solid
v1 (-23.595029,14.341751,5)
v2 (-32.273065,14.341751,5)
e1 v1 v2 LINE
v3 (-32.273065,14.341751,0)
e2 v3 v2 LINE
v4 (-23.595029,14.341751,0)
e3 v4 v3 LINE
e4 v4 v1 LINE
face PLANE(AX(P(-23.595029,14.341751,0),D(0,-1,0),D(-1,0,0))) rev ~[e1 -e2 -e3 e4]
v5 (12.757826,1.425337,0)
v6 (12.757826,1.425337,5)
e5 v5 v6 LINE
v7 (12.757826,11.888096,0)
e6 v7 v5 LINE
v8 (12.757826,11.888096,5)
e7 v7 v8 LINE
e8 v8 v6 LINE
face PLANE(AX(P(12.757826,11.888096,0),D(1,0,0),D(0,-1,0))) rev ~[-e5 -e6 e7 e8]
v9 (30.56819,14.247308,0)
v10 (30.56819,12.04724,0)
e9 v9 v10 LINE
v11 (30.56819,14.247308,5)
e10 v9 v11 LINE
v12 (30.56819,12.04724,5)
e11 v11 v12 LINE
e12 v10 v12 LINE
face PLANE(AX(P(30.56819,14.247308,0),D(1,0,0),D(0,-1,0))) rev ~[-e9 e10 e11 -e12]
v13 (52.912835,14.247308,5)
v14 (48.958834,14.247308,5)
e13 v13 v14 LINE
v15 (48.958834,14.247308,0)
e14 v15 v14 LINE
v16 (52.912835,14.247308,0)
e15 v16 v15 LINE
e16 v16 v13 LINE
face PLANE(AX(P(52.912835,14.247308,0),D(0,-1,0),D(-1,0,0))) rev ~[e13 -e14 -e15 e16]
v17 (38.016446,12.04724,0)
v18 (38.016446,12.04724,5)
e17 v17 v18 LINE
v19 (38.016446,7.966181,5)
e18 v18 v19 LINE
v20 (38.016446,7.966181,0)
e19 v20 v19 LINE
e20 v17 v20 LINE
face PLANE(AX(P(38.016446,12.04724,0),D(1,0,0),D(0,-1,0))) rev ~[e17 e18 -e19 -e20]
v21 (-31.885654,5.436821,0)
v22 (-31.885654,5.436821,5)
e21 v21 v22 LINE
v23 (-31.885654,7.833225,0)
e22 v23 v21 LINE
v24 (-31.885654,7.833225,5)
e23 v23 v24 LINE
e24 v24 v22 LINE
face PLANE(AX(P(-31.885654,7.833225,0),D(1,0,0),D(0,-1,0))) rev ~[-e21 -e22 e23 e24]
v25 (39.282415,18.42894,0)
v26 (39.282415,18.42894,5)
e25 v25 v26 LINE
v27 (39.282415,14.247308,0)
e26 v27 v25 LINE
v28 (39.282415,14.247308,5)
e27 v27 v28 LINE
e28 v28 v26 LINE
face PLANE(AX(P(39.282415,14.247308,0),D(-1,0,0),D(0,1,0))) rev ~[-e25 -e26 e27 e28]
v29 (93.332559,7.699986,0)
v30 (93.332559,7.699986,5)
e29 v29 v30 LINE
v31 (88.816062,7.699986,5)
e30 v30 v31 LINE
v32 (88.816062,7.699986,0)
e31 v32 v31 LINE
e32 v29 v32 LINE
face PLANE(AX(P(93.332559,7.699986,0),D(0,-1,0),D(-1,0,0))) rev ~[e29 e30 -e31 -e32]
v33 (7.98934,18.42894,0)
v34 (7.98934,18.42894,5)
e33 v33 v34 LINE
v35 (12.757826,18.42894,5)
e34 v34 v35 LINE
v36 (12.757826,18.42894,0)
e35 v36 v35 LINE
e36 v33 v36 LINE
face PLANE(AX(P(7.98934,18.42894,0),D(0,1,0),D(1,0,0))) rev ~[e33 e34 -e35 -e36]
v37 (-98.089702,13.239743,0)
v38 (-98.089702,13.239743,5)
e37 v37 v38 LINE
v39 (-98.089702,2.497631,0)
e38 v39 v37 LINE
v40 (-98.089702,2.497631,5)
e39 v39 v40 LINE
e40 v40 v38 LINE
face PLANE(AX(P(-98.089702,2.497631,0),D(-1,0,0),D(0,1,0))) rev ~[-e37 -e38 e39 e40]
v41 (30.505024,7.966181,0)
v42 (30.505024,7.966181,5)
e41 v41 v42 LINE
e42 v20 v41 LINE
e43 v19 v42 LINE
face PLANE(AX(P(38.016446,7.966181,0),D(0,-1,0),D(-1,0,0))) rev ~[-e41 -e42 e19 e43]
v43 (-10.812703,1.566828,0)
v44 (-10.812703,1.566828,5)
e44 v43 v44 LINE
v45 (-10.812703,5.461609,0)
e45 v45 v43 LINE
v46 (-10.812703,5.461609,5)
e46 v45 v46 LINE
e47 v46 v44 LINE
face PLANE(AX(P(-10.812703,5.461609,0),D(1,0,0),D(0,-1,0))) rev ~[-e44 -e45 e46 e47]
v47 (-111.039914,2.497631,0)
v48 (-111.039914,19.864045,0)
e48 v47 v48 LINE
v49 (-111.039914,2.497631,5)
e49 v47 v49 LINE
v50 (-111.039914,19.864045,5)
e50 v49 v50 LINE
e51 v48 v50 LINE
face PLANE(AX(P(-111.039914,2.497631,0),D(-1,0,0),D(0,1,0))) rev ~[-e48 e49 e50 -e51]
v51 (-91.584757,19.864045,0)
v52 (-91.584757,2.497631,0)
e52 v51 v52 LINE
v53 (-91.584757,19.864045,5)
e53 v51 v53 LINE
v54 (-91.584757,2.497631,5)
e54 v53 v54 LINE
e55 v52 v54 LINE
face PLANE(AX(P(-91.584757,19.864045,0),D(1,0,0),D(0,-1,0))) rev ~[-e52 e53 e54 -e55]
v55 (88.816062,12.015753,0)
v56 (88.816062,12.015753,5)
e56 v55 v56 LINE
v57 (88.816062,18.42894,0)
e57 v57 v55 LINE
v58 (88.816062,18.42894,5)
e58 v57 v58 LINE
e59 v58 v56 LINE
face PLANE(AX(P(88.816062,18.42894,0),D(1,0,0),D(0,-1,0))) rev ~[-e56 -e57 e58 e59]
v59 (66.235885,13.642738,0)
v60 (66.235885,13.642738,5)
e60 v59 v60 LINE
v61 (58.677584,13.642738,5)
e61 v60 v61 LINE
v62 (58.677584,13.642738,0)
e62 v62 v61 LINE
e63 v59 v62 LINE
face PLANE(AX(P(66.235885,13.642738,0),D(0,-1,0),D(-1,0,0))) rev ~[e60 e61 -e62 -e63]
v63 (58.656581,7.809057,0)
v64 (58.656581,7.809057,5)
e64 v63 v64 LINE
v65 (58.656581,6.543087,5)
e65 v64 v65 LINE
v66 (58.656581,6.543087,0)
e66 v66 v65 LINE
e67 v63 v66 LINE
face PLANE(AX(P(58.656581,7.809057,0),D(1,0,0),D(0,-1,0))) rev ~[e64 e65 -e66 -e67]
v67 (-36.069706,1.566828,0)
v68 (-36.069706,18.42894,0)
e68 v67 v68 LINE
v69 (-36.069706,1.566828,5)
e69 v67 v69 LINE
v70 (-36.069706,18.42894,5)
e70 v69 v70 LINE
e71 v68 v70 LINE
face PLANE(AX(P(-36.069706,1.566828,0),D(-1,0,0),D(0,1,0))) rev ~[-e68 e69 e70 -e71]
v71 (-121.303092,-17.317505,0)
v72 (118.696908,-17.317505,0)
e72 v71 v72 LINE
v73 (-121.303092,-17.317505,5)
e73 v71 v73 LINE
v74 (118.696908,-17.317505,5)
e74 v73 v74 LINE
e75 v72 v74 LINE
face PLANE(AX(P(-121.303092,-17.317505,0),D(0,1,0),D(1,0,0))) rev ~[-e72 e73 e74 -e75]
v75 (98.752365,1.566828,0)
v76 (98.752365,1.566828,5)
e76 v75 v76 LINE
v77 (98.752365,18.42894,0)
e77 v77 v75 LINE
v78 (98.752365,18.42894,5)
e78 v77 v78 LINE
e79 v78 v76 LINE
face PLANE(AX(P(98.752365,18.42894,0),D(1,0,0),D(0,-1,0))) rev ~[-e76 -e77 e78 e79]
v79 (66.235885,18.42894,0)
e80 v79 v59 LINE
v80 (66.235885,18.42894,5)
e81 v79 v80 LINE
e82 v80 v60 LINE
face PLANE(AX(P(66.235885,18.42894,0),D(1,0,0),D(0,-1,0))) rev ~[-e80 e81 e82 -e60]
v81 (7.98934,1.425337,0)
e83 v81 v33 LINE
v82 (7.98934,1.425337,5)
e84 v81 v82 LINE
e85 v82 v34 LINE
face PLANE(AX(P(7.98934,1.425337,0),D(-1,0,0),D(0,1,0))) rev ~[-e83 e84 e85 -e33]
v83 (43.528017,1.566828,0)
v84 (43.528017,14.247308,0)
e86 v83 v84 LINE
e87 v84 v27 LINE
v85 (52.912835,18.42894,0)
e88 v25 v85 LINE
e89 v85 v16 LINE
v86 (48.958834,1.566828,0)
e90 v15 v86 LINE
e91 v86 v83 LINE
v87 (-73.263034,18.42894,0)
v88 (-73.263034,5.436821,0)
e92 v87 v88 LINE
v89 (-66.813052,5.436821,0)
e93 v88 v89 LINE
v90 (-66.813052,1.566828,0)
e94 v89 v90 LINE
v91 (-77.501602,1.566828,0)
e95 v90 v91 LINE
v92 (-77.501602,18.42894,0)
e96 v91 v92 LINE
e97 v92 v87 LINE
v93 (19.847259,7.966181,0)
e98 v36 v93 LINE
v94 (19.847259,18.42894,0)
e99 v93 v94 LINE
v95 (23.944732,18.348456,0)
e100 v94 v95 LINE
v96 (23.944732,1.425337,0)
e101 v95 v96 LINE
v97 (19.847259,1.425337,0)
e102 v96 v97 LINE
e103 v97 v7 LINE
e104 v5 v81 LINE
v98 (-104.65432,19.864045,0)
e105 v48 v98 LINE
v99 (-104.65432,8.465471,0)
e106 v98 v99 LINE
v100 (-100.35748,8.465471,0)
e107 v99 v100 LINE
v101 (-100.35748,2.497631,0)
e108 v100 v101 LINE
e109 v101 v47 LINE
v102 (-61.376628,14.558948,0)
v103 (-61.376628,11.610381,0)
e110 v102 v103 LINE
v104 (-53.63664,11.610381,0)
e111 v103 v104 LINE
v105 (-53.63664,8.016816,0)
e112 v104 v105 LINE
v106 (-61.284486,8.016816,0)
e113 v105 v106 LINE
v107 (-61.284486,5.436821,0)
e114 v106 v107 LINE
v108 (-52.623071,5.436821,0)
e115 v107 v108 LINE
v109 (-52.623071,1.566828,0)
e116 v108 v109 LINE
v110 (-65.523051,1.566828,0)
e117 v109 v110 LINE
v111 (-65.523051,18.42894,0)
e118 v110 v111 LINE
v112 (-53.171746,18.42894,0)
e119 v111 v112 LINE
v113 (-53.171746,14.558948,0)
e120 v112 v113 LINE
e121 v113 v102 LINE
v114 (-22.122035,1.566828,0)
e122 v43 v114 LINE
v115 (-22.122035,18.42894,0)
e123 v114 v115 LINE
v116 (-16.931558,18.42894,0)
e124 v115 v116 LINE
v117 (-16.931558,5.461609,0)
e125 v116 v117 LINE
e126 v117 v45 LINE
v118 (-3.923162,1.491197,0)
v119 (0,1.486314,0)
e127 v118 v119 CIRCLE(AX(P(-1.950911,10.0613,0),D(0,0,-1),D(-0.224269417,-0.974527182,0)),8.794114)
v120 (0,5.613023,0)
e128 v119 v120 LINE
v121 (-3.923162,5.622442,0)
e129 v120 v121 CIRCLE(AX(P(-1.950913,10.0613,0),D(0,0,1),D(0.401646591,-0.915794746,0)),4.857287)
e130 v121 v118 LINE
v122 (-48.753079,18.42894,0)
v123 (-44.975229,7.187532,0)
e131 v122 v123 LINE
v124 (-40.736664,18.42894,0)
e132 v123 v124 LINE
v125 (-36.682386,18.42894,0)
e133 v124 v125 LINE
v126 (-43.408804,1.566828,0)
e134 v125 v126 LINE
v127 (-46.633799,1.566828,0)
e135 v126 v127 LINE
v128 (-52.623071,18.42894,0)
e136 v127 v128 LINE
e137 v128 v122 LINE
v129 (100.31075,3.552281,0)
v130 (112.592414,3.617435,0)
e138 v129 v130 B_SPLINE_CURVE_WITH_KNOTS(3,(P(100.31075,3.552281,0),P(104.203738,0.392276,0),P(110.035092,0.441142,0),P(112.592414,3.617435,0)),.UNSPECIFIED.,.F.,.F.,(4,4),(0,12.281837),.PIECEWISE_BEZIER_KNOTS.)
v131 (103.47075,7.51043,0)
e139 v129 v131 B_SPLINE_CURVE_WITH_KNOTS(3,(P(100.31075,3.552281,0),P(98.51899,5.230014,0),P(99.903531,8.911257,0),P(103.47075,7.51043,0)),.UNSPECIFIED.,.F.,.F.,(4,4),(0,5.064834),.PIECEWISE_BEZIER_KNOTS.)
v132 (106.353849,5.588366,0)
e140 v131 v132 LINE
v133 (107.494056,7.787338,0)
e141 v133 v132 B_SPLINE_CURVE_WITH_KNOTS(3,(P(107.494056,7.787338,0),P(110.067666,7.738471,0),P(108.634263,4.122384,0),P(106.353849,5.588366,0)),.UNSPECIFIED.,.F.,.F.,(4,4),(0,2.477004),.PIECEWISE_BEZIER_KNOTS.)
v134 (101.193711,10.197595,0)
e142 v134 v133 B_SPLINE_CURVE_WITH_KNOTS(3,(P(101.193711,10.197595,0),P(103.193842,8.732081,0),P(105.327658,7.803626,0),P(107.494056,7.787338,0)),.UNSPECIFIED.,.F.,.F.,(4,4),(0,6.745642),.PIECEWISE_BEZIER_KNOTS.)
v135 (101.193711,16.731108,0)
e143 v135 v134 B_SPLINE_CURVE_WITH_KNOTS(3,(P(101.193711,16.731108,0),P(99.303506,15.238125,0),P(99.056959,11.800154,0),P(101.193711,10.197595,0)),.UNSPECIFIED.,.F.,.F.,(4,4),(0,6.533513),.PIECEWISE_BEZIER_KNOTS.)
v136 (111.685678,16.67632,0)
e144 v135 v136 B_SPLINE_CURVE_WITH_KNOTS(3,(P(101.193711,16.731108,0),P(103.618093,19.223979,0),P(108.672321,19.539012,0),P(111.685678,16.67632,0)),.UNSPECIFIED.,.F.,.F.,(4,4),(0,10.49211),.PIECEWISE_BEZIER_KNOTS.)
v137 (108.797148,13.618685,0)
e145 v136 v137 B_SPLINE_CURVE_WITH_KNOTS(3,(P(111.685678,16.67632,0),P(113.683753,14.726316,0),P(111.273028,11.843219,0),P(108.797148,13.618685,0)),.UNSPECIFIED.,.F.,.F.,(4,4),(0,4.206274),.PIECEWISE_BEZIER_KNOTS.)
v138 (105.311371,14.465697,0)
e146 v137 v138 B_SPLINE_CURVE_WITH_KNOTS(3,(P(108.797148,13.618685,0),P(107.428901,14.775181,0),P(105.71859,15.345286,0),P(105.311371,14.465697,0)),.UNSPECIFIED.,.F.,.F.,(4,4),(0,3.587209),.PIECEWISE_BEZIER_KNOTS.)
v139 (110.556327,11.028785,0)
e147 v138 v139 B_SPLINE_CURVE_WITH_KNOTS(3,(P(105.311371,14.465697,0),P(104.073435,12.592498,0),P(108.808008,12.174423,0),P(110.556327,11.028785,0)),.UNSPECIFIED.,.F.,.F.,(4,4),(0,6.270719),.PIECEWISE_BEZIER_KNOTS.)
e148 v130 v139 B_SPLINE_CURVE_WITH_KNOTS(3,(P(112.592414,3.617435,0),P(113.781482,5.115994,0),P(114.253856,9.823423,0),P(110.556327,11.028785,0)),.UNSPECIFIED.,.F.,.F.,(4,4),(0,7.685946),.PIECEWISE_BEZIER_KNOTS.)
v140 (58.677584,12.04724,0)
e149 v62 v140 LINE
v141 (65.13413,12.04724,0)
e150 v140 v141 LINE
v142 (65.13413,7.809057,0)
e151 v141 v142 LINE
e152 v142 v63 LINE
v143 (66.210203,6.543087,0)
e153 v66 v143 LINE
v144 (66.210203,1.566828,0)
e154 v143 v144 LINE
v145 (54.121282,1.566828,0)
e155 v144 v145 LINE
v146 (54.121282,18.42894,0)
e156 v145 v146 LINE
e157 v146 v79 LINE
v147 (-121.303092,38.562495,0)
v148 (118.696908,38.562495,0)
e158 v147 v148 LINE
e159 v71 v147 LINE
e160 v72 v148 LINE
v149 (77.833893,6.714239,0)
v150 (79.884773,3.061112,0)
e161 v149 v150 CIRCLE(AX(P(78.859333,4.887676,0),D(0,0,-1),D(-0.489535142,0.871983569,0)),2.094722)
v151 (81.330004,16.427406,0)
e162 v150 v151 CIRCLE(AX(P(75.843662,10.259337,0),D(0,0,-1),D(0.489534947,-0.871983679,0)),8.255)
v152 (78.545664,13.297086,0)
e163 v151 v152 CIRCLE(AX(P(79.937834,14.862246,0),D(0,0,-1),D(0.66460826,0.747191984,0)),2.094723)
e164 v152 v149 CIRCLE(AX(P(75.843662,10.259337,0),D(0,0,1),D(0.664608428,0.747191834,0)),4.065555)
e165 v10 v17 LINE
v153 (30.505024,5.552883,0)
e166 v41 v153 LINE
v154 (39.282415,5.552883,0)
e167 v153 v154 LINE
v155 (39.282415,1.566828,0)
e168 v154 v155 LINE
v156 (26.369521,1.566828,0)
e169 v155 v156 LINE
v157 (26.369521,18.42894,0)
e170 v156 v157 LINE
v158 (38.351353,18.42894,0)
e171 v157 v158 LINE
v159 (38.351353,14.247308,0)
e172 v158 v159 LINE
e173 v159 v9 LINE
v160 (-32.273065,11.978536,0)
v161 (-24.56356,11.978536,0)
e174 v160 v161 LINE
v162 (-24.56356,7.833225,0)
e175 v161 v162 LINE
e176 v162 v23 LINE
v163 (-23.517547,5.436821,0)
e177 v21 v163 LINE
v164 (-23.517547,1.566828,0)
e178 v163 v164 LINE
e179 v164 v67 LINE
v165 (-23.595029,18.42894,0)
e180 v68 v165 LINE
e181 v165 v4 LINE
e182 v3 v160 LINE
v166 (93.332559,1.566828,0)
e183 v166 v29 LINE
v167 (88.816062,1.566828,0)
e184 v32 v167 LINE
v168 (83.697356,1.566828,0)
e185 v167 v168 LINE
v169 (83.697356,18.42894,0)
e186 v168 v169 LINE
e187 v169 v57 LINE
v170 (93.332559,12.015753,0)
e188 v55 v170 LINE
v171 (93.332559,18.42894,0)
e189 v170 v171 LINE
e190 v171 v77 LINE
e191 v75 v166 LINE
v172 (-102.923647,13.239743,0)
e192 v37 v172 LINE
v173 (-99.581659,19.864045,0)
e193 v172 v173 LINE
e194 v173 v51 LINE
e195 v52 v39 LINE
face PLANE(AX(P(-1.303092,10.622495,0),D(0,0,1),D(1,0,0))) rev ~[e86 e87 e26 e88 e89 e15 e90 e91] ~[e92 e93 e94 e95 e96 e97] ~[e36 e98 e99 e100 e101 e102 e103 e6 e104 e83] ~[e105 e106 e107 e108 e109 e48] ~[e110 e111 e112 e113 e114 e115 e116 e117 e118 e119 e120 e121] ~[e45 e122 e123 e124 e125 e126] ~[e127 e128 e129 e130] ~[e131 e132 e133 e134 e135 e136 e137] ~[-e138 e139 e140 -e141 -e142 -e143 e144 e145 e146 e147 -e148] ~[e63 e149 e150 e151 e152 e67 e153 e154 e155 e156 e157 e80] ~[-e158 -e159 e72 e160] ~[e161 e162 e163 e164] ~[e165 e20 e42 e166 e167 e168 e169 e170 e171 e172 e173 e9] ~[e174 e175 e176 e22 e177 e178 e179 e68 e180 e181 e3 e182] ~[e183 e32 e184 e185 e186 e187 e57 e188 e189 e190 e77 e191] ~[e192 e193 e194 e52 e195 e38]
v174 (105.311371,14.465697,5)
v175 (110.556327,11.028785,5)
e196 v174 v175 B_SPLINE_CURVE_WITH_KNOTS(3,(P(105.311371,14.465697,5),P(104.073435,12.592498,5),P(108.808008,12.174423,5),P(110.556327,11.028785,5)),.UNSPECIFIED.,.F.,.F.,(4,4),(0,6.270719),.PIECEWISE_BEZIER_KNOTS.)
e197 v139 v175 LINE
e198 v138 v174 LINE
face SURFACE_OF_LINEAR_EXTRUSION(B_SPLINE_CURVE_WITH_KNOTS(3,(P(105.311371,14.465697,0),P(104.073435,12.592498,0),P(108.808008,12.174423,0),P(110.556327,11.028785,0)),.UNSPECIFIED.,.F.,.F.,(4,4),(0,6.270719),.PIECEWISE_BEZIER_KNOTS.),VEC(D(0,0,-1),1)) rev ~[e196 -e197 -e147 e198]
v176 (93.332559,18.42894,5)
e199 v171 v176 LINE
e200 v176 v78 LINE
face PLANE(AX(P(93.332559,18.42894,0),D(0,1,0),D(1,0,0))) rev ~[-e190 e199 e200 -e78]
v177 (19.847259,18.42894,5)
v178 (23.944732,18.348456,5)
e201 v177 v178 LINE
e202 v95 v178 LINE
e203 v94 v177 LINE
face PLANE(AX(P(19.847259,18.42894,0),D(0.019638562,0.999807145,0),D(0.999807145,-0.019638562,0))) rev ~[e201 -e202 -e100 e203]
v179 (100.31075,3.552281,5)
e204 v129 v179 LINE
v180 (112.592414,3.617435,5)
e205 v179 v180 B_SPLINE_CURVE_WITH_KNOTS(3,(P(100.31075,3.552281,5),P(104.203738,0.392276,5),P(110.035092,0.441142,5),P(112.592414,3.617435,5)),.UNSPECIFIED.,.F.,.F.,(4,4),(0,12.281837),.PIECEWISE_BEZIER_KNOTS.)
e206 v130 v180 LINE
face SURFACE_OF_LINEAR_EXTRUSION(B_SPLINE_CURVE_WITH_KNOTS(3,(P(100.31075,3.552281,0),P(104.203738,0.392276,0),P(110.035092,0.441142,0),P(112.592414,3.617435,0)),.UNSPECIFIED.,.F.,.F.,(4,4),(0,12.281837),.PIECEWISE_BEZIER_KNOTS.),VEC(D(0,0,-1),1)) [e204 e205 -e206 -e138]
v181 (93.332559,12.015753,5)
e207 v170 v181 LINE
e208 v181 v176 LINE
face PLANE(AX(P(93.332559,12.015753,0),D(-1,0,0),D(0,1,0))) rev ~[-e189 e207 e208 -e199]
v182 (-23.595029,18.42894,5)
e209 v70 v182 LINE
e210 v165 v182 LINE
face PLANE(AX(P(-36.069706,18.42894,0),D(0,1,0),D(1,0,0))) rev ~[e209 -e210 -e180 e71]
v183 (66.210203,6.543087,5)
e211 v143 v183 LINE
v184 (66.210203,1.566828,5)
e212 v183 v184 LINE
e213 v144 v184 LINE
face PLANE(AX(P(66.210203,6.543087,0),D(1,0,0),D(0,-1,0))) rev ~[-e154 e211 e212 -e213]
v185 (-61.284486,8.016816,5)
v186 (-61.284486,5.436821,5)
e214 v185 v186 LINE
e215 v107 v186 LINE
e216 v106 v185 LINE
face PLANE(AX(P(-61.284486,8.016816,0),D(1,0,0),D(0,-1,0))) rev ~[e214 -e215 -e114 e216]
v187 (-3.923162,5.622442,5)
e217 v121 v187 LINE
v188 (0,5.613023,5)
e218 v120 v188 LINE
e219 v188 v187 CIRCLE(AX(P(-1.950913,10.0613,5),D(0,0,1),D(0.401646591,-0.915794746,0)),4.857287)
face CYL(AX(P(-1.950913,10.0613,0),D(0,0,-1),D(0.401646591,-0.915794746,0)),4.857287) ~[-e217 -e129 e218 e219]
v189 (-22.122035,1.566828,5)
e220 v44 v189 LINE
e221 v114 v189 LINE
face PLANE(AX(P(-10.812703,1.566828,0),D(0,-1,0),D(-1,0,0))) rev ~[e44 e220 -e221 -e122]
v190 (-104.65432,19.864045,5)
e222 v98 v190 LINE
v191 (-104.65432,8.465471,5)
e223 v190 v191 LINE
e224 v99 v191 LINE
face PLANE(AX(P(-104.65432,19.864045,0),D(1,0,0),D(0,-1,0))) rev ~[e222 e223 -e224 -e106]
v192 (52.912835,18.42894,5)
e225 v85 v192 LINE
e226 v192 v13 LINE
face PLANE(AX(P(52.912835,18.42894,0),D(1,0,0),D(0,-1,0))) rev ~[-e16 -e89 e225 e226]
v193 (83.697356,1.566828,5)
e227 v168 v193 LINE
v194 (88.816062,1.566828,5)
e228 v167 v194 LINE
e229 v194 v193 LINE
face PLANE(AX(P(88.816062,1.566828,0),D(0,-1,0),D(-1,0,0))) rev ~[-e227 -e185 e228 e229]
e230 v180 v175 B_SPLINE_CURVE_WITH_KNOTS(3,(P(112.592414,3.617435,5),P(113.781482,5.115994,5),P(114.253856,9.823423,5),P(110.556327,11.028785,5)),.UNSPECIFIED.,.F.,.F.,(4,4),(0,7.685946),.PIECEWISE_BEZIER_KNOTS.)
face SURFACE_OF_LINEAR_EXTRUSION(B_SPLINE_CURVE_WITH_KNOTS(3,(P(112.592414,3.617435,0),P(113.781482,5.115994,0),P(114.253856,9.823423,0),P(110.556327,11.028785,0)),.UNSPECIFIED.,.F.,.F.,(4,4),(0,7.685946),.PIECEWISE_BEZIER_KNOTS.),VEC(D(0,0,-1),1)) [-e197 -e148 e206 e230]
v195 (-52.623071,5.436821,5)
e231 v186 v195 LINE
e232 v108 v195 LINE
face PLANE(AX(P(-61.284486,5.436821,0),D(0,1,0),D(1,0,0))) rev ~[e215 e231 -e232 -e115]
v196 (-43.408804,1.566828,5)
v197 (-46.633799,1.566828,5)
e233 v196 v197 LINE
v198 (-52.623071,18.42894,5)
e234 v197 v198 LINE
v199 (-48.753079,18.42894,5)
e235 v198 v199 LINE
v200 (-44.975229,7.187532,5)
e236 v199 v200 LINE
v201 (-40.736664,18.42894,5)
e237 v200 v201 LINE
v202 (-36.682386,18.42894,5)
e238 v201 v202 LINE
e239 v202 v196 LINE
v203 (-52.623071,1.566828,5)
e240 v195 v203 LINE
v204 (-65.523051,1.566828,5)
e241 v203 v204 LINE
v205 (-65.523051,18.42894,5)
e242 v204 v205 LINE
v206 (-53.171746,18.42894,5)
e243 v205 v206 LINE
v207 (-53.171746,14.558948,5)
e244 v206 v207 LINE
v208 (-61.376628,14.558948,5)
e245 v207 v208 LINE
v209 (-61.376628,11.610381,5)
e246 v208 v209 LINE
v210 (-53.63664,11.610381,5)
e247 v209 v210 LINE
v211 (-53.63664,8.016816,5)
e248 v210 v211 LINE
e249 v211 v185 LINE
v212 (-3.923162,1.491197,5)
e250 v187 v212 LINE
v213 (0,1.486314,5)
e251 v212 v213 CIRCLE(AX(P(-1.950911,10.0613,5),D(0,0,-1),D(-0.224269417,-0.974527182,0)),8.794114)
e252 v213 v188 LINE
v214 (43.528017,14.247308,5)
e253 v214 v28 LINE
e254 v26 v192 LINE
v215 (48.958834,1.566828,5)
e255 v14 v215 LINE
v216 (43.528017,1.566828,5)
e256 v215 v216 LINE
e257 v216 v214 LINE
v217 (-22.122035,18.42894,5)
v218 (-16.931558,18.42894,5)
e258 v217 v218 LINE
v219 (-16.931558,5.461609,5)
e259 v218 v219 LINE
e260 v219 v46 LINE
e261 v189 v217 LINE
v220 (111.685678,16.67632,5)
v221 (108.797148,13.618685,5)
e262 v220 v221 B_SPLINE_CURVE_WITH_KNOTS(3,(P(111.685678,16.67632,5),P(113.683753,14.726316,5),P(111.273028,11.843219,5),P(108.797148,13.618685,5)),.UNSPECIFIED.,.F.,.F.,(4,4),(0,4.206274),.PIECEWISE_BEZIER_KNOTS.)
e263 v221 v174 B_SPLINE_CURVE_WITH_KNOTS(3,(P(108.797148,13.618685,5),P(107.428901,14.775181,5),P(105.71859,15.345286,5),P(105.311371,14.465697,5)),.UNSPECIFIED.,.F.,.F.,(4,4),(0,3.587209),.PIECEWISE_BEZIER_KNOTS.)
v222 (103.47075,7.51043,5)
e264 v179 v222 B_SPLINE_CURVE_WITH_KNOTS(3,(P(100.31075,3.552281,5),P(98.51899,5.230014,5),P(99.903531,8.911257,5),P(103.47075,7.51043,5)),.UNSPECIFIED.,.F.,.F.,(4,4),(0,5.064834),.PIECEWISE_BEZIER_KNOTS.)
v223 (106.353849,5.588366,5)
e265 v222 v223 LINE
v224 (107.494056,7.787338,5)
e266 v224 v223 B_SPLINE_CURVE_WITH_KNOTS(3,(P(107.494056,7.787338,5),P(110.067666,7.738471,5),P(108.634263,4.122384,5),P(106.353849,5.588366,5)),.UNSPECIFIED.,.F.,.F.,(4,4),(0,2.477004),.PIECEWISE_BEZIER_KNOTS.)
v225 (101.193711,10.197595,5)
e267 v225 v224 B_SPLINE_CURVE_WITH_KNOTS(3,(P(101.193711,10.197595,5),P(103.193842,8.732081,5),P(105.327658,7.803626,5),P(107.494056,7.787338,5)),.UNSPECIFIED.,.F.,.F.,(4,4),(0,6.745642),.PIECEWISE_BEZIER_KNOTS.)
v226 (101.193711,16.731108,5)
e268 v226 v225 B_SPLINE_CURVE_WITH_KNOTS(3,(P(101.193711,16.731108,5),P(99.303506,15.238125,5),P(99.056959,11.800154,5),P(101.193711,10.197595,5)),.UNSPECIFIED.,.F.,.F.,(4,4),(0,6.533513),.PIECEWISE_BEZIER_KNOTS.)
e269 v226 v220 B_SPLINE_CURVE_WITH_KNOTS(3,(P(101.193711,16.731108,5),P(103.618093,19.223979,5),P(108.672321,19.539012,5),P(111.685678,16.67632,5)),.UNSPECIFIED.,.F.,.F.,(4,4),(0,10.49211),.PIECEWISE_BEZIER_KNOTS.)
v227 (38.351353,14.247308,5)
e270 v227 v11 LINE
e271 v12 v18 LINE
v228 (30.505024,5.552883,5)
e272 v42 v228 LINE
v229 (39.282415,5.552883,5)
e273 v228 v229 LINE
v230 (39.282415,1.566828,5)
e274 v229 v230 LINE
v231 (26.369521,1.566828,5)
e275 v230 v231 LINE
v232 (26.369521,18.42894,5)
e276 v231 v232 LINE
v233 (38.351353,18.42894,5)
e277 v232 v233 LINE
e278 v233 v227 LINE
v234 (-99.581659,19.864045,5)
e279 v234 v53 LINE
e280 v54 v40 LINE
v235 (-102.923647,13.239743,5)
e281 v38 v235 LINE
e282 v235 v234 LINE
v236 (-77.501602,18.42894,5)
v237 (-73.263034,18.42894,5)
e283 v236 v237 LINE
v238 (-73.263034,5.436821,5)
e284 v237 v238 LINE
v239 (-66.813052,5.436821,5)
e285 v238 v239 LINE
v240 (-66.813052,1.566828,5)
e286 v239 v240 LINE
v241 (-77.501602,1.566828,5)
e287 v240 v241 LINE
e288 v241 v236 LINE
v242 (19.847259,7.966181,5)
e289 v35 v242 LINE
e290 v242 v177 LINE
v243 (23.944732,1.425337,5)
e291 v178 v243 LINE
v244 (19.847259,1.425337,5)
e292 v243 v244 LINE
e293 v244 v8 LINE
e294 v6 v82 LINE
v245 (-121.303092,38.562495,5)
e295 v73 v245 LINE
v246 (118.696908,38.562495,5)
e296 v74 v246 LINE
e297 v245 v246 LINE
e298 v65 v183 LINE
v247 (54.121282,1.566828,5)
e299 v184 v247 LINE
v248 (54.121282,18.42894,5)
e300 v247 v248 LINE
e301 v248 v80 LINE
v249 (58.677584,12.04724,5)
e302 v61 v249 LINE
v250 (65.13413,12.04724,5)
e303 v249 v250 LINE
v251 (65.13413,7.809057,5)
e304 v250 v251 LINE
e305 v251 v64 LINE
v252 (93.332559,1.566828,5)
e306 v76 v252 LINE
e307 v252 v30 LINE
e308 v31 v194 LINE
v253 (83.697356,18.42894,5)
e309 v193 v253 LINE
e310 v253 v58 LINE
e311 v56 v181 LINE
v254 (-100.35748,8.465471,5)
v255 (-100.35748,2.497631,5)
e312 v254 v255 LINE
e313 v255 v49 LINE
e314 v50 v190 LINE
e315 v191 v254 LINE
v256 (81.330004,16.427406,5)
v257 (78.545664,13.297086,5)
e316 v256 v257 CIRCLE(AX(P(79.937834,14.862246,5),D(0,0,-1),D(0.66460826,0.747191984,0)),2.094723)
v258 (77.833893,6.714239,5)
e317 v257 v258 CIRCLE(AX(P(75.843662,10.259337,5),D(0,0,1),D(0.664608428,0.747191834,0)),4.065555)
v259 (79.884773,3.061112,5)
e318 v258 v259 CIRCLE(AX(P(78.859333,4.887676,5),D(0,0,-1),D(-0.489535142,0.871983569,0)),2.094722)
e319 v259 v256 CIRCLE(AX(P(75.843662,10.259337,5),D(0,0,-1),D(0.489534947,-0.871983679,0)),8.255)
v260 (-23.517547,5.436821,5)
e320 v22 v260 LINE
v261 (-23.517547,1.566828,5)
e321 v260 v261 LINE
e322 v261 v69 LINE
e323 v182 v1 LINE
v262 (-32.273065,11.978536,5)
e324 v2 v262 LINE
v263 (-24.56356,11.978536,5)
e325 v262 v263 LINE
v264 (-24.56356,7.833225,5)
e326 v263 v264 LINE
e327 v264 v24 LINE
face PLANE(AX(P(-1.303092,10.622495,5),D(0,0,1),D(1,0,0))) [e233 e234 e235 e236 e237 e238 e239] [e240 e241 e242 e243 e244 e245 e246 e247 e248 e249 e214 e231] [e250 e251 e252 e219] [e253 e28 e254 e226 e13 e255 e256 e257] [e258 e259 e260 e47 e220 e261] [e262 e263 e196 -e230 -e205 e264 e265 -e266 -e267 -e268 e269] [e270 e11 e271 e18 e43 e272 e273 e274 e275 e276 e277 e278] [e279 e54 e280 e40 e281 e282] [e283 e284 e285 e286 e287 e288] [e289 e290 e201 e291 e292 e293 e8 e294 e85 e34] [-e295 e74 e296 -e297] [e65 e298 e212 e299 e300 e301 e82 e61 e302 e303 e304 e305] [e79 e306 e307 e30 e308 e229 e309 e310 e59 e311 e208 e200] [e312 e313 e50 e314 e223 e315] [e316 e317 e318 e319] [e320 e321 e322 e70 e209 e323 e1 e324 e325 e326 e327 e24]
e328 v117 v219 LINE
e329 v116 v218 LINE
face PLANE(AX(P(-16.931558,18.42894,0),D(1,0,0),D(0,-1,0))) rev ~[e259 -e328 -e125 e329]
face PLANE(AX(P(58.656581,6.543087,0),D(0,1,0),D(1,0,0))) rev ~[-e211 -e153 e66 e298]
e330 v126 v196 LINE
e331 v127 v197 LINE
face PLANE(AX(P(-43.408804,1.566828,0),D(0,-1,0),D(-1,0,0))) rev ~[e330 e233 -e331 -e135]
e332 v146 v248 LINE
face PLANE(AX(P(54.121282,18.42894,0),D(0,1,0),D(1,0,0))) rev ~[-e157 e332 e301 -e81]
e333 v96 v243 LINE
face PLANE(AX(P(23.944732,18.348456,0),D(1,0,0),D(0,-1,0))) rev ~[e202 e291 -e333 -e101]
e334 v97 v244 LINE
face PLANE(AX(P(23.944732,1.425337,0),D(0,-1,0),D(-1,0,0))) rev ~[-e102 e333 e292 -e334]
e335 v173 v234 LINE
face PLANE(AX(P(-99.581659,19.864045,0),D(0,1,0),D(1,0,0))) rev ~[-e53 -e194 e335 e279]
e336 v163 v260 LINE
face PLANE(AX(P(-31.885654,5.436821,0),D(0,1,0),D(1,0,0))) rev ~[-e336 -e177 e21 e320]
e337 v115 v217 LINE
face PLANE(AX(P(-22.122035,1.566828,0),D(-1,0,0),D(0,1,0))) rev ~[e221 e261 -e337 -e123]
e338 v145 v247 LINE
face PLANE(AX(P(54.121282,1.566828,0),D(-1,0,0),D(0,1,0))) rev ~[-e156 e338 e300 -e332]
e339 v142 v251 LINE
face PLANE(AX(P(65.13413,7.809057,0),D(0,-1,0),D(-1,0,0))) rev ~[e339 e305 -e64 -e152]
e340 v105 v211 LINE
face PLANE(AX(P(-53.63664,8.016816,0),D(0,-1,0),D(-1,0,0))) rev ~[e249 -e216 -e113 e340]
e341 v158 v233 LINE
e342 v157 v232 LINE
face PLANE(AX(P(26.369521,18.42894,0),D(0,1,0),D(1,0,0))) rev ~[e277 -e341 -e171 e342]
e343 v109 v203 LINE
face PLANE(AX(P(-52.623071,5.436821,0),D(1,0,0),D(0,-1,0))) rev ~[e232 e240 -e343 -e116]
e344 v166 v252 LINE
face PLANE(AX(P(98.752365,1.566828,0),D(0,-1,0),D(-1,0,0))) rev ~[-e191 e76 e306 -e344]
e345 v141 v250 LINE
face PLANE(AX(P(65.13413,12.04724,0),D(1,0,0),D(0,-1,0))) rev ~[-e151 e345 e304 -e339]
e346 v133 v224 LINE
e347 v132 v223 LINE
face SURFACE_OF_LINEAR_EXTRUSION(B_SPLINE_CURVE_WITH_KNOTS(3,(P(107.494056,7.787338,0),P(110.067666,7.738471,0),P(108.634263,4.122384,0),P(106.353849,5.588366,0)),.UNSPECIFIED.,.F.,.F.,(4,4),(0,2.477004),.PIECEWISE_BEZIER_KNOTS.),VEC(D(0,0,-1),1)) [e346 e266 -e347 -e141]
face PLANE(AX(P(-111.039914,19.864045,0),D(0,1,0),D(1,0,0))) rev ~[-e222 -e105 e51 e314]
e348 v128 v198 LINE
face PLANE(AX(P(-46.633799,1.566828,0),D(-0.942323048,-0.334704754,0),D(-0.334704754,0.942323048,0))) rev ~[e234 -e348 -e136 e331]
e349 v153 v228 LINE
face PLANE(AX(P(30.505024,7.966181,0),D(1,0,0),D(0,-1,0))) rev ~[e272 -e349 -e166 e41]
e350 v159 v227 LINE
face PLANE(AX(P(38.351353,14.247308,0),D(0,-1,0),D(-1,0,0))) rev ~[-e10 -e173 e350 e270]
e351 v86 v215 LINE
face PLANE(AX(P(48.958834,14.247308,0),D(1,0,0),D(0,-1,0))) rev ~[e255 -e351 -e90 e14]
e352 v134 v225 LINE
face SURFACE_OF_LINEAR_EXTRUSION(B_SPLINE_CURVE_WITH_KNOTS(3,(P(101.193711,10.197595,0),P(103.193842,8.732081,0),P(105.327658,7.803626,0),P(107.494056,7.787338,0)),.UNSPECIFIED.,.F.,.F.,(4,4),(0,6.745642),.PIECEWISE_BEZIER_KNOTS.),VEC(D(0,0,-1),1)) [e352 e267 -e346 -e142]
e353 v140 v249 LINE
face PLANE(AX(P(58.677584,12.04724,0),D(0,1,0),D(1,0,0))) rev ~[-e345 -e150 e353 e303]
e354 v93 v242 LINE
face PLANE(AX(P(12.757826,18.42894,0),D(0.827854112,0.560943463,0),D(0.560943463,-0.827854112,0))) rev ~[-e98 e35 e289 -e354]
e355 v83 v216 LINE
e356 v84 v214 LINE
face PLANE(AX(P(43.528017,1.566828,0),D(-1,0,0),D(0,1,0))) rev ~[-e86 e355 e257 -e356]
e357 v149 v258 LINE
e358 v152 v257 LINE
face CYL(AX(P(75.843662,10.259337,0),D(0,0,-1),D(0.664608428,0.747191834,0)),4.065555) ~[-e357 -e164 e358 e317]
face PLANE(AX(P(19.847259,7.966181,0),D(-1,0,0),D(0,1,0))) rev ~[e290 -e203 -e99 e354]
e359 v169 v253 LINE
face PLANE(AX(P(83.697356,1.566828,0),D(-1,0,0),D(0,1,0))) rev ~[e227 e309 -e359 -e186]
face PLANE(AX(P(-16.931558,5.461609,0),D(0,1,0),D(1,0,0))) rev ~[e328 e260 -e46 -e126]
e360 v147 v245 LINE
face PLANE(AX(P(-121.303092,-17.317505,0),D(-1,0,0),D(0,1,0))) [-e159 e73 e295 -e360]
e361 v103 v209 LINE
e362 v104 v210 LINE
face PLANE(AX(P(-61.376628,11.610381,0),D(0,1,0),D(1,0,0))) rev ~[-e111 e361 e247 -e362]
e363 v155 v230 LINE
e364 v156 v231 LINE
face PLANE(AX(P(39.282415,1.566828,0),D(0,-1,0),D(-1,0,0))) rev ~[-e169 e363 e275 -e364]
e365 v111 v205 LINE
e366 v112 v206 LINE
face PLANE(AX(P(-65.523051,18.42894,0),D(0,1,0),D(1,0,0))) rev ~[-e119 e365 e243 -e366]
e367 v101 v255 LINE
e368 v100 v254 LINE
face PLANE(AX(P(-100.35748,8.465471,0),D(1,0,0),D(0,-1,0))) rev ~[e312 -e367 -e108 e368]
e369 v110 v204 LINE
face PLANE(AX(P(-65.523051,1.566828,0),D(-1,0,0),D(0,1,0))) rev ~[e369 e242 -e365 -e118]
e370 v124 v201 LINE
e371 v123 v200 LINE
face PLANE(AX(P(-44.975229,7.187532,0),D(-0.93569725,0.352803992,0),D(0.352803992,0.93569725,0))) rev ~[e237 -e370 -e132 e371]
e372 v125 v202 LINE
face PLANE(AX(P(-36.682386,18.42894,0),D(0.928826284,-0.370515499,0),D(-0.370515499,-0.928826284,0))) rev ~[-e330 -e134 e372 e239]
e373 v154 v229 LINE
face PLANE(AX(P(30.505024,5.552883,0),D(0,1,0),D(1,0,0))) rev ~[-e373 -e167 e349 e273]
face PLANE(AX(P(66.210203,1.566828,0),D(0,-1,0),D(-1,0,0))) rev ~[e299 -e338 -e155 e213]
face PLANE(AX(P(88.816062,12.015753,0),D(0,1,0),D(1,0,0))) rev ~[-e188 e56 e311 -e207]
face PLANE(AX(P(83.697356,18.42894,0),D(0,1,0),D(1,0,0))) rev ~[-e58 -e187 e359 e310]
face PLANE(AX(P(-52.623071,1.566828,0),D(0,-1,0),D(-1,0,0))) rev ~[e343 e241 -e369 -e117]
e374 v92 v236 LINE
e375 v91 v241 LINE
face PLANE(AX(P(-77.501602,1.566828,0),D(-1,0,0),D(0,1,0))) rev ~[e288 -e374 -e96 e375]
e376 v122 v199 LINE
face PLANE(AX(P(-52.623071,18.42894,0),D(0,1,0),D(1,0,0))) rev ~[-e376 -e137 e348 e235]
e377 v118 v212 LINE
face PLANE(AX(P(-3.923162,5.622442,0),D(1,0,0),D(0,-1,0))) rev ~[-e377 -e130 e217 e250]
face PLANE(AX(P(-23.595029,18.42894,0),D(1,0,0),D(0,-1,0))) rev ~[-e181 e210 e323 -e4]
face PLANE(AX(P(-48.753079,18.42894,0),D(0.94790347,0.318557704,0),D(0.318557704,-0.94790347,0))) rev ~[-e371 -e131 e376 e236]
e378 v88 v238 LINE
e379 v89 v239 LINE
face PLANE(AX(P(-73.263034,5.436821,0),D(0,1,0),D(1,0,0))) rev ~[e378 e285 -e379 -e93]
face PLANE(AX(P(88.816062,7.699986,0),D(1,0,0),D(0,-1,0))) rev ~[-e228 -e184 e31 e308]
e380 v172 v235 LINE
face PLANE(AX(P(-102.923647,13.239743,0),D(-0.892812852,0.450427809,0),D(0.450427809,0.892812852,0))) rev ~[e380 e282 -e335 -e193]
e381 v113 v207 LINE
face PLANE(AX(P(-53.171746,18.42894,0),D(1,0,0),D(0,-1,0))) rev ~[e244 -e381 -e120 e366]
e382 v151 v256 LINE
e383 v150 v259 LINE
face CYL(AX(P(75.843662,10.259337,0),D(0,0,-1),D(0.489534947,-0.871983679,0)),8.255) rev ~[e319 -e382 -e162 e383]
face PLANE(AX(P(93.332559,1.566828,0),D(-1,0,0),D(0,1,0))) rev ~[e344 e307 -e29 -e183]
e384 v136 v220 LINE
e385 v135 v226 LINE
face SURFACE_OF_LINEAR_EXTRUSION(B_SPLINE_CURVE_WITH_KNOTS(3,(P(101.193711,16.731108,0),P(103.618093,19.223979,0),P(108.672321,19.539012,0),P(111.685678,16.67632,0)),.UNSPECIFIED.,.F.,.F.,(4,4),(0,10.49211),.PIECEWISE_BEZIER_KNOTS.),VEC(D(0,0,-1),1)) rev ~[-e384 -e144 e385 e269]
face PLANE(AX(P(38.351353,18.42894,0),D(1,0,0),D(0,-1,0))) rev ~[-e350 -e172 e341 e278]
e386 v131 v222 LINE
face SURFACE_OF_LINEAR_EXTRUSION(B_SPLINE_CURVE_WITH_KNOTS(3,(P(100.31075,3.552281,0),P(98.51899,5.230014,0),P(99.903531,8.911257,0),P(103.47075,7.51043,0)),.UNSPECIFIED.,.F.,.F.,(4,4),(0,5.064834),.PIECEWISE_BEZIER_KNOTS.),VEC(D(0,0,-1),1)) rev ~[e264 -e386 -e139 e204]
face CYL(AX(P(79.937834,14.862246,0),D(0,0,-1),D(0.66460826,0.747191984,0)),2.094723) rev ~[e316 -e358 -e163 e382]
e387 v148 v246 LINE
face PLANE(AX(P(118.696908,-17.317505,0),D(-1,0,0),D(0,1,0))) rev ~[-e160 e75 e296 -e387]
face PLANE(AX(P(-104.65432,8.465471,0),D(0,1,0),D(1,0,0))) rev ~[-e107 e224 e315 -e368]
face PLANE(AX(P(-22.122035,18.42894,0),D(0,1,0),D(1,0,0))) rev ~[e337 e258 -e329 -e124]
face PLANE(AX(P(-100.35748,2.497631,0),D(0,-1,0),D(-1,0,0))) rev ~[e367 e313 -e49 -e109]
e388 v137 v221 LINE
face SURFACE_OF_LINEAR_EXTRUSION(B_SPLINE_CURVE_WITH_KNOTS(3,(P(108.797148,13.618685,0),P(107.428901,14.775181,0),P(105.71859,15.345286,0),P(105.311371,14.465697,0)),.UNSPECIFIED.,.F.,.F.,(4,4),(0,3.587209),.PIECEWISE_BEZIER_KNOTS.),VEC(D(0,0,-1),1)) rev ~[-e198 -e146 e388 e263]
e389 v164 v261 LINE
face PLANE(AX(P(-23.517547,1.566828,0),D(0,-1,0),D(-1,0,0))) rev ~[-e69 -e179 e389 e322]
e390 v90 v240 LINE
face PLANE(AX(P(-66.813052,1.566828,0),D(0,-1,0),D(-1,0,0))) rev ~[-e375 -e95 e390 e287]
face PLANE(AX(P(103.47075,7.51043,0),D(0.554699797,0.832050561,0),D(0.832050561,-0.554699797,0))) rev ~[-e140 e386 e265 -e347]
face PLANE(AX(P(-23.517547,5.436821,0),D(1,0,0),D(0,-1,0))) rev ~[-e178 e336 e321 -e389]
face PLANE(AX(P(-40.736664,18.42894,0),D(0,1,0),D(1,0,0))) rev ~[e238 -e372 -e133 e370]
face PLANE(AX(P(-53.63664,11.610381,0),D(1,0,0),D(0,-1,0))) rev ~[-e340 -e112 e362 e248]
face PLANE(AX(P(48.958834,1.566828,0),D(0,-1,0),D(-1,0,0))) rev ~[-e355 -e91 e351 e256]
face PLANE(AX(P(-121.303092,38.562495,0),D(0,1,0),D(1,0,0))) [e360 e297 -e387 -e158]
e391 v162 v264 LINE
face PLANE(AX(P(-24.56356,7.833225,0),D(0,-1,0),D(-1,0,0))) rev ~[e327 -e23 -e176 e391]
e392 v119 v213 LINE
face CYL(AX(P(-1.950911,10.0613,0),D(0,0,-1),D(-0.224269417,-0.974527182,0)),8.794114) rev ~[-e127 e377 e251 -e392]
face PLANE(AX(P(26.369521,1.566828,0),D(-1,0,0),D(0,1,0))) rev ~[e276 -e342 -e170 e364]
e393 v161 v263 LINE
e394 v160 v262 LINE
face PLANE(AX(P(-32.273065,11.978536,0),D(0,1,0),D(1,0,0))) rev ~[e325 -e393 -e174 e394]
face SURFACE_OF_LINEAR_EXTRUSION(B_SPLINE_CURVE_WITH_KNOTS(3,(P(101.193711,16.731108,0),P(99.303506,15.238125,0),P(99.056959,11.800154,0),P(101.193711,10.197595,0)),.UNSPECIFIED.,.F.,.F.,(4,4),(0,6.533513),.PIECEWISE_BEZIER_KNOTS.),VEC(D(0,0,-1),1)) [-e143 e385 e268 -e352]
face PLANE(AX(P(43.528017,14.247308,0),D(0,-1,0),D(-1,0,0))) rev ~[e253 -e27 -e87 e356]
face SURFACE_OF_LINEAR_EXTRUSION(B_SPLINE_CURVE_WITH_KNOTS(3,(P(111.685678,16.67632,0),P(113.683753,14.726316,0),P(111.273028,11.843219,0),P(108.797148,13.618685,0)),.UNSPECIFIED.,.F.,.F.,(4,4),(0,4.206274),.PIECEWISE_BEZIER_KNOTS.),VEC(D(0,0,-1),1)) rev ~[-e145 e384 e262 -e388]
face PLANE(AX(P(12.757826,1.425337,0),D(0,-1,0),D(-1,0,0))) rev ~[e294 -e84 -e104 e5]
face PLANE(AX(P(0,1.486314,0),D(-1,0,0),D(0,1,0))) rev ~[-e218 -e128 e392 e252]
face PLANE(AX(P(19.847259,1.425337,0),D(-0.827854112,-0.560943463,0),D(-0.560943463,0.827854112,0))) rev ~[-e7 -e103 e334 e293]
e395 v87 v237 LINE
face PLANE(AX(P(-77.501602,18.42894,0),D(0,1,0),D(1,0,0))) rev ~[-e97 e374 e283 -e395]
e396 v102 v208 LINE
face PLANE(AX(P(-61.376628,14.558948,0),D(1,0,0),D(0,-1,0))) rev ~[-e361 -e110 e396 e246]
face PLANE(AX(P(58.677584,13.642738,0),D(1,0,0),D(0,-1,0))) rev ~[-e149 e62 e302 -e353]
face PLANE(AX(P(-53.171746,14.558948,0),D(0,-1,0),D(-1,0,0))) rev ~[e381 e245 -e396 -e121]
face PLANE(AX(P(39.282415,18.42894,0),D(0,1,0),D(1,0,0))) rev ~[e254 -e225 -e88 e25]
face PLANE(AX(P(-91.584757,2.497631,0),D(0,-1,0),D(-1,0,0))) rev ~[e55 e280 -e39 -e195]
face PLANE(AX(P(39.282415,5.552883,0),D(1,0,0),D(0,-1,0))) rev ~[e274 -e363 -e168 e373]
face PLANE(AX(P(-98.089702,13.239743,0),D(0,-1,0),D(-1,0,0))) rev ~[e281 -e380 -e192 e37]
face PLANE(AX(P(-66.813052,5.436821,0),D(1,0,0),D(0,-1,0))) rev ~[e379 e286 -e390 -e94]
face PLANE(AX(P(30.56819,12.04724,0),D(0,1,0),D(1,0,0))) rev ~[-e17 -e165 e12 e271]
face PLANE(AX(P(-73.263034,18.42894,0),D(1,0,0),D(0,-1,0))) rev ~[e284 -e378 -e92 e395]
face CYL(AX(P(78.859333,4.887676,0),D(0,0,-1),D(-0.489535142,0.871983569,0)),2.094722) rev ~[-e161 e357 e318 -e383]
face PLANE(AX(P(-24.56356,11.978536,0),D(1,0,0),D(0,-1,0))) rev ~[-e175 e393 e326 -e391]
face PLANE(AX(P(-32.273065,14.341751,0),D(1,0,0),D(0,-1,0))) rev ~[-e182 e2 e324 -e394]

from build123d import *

# Parameters (mm, degrees)
F0_W     = 240
F0_H     = 55.88
F1_DEPTH = 5


with BuildPart() as f1:
    # F0 (on Top) → F1 (new body)
    with BuildSketch(Plane.XY):
        with Locations((-1.303092, 10.622495)):
            Rectangle(F0_W, F0_H)
        Polygon((-77.501602, 1.566828), (-77.501602, 18.42894), (-73.263034, 18.42894), (-73.263034, 5.436821), (-66.813052, 5.436821), (-66.813052, 1.566828), align=None, mode=Mode.SUBTRACT)
        Polygon((-65.523051, 1.566828), (-65.523051, 18.42894), (-53.171746, 18.42894), (-53.171746, 14.558948), (-61.376628, 14.558948), (-61.376628, 11.610381), (-53.63664, 11.610381), (-53.63664, 8.016816), (-61.284486, 8.016816), (-61.284486, 5.436821), (-52.623071, 5.436821), (-52.623071, 1.566828), align=None, mode=Mode.SUBTRACT)
        Polygon((-46.633799, 1.566828), (-52.623071, 18.42894), (-48.753079, 18.42894), (-44.975229, 7.187532), (-40.736664, 18.42894), (-36.682386, 18.42894), (-43.408804, 1.566828), align=None, mode=Mode.SUBTRACT)
        Polygon((-36.069706, 1.566828), (-36.069706, 18.42894), (-23.595029, 18.42894), (-23.595029, 14.341751), (-32.273065, 14.341751), (-32.273065, 11.978536), (-24.56356, 11.978536), (-24.56356, 7.833225), (-31.885654, 7.833225), (-31.885654, 5.436821), (-23.517547, 5.436821), (-23.517547, 1.566828), align=None, mode=Mode.SUBTRACT)
        Polygon((-22.122035, 1.566828), (-22.122035, 18.42894), (-16.931558, 18.42894), (-16.931558, 5.461609), (-10.812703, 5.461609), (-10.812703, 1.566828), align=None, mode=Mode.SUBTRACT)
        with BuildLine():
            Line((0, 1.486314), (0, 5.613023))
            ThreePointArc((0, 5.613023), (-1.939251, 14.918573), (-3.923162, 5.622442))
            Line((-3.923162, 5.622442), (-3.923162, 1.491197))
            ThreePointArc((-3.923162, 1.491197), (-1.939969, 18.855408), (0, 1.486314))
        make_face(mode=Mode.SUBTRACT)
        Polygon((12.757826, 1.425337), (7.98934, 1.425337), (7.98934, 18.42894), (12.757826, 18.42894), (19.847259, 7.966181), (19.847259, 18.42894), (23.944732, 18.348456), (23.944732, 1.425337), (19.847259, 1.425337), (12.757826, 11.888096), align=None, mode=Mode.SUBTRACT)
        Polygon((26.369521, 1.566828), (26.369521, 18.42894), (38.351353, 18.42894), (38.351353, 14.247308), (30.56819, 14.247308), (30.56819, 12.04724), (38.016446, 12.04724), (38.016446, 7.966181), (30.505024, 7.966181), (30.505024, 5.552883), (39.282415, 5.552883), (39.282415, 1.566828), align=None, mode=Mode.SUBTRACT)
        Polygon((39.282415, 14.247308), (39.282415, 18.42894), (52.912835, 18.42894), (52.912835, 14.247308), (48.958834, 14.247308), (48.958834, 1.566828), (43.528017, 1.566828), (43.528017, 14.247308), align=None, mode=Mode.SUBTRACT)
        Polygon((54.121282, 1.566828), (54.121282, 18.42894), (66.235885, 18.42894), (66.235885, 13.642738), (58.677584, 13.642738), (58.677584, 12.04724), (65.13413, 12.04724), (65.13413, 7.809057), (58.656581, 7.809057), (58.656581, 6.543087), (66.210203, 6.543087), (66.210203, 1.566828), align=None, mode=Mode.SUBTRACT)
        with BuildLine():
            ThreePointArc((81.330004, 16.427406), (81.502994, 13.470076), (78.545664, 13.297086))
            ThreePointArc((78.545664, 13.297086), (71.801666, 10.696378), (77.833893, 6.714239))
            ThreePointArc((77.833893, 6.714239), (80.685897, 5.913115), (79.884773, 3.061112))
            ThreePointArc((79.884773, 3.061112), (67.636498, 11.146737), (81.330004, 16.427406))
        make_face(mode=Mode.SUBTRACT)
        Polygon((83.697356, 1.566828), (83.697356, 18.42894), (88.816062, 18.42894), (88.816062, 12.015753), (93.332559, 12.015753), (93.332559, 18.42894), (98.752365, 18.42894), (98.752365, 1.566828), (93.332559, 1.566828), (93.332559, 7.699986), (88.816062, 7.699986), (88.816062, 1.566828), align=None, mode=Mode.SUBTRACT)
        with BuildLine():
            add(Edge.make_bspline(
                [(101.193711, 16.731108), (99.303506, 15.238125), (99.056959, 11.800154), (101.193711, 10.197595)],
                knots=[0, 0, 0, 0, 6.533513, 6.533513, 6.533513, 6.533513], degree=3))
            add(Edge.make_bspline(
                [(101.193711, 16.731108), (103.618093, 19.223979), (108.672321, 19.539012), (111.685678, 16.67632)],
                knots=[0, 0, 0, 0, 10.49211, 10.49211, 10.49211, 10.49211], degree=3))
            add(Edge.make_bspline(
                [(111.685678, 16.67632), (113.683753, 14.726316), (111.273028, 11.843219), (108.797148, 13.618685)],
                knots=[0, 0, 0, 0, 4.206274, 4.206274, 4.206274, 4.206274], degree=3))
            add(Edge.make_bspline(
                [(108.797148, 13.618685), (107.428901, 14.775181), (105.71859, 15.345286), (105.311371, 14.465697)],
                knots=[0, 0, 0, 0, 3.587209, 3.587209, 3.587209, 3.587209], degree=3))
            add(Edge.make_bspline(
                [(105.311371, 14.465697), (104.073435, 12.592498), (108.808008, 12.174423), (110.556327, 11.028785)],
                knots=[0, 0, 0, 0, 6.270719, 6.270719, 6.270719, 6.270719], degree=3))
            add(Edge.make_bspline(
                [(112.592414, 3.617435), (113.781482, 5.115994), (114.253856, 9.823423), (110.556327, 11.028785)],
                knots=[0, 0, 0, 0, 7.685946, 7.685946, 7.685946, 7.685946], degree=3))
            add(Edge.make_bspline(
                [(100.31075, 3.552281), (104.203738, 0.392276), (110.035092, 0.441142), (112.592414, 3.617435)],
                knots=[0, 0, 0, 0, 12.281837, 12.281837, 12.281837, 12.281837], degree=3))
            add(Edge.make_bspline(
                [(100.31075, 3.552281), (98.51899, 5.230014), (99.903531, 8.911257), (103.47075, 7.51043)],
                knots=[0, 0, 0, 0, 5.064834, 5.064834, 5.064834, 5.064834], degree=3))
            Line((103.47075, 7.51043), (106.353849, 5.588366))
            add(Edge.make_bspline(
                [(107.494056, 7.787338), (110.067666, 7.738471), (108.634263, 4.122384), (106.353849, 5.588366)],
                knots=[0, 0, 0, 0, 2.477004, 2.477004, 2.477004, 2.477004], degree=3))
            add(Edge.make_bspline(
                [(101.193711, 10.197595), (103.193842, 8.732081), (105.327658, 7.803626), (107.494056, 7.787338)],
                knots=[0, 0, 0, 0, 6.745642, 6.745642, 6.745642, 6.745642], degree=3))
        make_face(mode=Mode.SUBTRACT)
        Polygon((-111.039914, 2.497631), (-111.039914, 19.864045), (-104.65432, 19.864045), (-104.65432, 8.465471), (-100.35748, 8.465471), (-100.35748, 2.497631), align=None, mode=Mode.SUBTRACT)
        Polygon((-91.584757, 19.864045), (-91.584757, 2.497631), (-98.089702, 2.497631), (-98.089702, 13.239743), (-102.923647, 13.239743), (-99.581659, 19.864045), align=None, mode=Mode.SUBTRACT)
    extrude(amount=F1_DEPTH)


solid = f1.part
